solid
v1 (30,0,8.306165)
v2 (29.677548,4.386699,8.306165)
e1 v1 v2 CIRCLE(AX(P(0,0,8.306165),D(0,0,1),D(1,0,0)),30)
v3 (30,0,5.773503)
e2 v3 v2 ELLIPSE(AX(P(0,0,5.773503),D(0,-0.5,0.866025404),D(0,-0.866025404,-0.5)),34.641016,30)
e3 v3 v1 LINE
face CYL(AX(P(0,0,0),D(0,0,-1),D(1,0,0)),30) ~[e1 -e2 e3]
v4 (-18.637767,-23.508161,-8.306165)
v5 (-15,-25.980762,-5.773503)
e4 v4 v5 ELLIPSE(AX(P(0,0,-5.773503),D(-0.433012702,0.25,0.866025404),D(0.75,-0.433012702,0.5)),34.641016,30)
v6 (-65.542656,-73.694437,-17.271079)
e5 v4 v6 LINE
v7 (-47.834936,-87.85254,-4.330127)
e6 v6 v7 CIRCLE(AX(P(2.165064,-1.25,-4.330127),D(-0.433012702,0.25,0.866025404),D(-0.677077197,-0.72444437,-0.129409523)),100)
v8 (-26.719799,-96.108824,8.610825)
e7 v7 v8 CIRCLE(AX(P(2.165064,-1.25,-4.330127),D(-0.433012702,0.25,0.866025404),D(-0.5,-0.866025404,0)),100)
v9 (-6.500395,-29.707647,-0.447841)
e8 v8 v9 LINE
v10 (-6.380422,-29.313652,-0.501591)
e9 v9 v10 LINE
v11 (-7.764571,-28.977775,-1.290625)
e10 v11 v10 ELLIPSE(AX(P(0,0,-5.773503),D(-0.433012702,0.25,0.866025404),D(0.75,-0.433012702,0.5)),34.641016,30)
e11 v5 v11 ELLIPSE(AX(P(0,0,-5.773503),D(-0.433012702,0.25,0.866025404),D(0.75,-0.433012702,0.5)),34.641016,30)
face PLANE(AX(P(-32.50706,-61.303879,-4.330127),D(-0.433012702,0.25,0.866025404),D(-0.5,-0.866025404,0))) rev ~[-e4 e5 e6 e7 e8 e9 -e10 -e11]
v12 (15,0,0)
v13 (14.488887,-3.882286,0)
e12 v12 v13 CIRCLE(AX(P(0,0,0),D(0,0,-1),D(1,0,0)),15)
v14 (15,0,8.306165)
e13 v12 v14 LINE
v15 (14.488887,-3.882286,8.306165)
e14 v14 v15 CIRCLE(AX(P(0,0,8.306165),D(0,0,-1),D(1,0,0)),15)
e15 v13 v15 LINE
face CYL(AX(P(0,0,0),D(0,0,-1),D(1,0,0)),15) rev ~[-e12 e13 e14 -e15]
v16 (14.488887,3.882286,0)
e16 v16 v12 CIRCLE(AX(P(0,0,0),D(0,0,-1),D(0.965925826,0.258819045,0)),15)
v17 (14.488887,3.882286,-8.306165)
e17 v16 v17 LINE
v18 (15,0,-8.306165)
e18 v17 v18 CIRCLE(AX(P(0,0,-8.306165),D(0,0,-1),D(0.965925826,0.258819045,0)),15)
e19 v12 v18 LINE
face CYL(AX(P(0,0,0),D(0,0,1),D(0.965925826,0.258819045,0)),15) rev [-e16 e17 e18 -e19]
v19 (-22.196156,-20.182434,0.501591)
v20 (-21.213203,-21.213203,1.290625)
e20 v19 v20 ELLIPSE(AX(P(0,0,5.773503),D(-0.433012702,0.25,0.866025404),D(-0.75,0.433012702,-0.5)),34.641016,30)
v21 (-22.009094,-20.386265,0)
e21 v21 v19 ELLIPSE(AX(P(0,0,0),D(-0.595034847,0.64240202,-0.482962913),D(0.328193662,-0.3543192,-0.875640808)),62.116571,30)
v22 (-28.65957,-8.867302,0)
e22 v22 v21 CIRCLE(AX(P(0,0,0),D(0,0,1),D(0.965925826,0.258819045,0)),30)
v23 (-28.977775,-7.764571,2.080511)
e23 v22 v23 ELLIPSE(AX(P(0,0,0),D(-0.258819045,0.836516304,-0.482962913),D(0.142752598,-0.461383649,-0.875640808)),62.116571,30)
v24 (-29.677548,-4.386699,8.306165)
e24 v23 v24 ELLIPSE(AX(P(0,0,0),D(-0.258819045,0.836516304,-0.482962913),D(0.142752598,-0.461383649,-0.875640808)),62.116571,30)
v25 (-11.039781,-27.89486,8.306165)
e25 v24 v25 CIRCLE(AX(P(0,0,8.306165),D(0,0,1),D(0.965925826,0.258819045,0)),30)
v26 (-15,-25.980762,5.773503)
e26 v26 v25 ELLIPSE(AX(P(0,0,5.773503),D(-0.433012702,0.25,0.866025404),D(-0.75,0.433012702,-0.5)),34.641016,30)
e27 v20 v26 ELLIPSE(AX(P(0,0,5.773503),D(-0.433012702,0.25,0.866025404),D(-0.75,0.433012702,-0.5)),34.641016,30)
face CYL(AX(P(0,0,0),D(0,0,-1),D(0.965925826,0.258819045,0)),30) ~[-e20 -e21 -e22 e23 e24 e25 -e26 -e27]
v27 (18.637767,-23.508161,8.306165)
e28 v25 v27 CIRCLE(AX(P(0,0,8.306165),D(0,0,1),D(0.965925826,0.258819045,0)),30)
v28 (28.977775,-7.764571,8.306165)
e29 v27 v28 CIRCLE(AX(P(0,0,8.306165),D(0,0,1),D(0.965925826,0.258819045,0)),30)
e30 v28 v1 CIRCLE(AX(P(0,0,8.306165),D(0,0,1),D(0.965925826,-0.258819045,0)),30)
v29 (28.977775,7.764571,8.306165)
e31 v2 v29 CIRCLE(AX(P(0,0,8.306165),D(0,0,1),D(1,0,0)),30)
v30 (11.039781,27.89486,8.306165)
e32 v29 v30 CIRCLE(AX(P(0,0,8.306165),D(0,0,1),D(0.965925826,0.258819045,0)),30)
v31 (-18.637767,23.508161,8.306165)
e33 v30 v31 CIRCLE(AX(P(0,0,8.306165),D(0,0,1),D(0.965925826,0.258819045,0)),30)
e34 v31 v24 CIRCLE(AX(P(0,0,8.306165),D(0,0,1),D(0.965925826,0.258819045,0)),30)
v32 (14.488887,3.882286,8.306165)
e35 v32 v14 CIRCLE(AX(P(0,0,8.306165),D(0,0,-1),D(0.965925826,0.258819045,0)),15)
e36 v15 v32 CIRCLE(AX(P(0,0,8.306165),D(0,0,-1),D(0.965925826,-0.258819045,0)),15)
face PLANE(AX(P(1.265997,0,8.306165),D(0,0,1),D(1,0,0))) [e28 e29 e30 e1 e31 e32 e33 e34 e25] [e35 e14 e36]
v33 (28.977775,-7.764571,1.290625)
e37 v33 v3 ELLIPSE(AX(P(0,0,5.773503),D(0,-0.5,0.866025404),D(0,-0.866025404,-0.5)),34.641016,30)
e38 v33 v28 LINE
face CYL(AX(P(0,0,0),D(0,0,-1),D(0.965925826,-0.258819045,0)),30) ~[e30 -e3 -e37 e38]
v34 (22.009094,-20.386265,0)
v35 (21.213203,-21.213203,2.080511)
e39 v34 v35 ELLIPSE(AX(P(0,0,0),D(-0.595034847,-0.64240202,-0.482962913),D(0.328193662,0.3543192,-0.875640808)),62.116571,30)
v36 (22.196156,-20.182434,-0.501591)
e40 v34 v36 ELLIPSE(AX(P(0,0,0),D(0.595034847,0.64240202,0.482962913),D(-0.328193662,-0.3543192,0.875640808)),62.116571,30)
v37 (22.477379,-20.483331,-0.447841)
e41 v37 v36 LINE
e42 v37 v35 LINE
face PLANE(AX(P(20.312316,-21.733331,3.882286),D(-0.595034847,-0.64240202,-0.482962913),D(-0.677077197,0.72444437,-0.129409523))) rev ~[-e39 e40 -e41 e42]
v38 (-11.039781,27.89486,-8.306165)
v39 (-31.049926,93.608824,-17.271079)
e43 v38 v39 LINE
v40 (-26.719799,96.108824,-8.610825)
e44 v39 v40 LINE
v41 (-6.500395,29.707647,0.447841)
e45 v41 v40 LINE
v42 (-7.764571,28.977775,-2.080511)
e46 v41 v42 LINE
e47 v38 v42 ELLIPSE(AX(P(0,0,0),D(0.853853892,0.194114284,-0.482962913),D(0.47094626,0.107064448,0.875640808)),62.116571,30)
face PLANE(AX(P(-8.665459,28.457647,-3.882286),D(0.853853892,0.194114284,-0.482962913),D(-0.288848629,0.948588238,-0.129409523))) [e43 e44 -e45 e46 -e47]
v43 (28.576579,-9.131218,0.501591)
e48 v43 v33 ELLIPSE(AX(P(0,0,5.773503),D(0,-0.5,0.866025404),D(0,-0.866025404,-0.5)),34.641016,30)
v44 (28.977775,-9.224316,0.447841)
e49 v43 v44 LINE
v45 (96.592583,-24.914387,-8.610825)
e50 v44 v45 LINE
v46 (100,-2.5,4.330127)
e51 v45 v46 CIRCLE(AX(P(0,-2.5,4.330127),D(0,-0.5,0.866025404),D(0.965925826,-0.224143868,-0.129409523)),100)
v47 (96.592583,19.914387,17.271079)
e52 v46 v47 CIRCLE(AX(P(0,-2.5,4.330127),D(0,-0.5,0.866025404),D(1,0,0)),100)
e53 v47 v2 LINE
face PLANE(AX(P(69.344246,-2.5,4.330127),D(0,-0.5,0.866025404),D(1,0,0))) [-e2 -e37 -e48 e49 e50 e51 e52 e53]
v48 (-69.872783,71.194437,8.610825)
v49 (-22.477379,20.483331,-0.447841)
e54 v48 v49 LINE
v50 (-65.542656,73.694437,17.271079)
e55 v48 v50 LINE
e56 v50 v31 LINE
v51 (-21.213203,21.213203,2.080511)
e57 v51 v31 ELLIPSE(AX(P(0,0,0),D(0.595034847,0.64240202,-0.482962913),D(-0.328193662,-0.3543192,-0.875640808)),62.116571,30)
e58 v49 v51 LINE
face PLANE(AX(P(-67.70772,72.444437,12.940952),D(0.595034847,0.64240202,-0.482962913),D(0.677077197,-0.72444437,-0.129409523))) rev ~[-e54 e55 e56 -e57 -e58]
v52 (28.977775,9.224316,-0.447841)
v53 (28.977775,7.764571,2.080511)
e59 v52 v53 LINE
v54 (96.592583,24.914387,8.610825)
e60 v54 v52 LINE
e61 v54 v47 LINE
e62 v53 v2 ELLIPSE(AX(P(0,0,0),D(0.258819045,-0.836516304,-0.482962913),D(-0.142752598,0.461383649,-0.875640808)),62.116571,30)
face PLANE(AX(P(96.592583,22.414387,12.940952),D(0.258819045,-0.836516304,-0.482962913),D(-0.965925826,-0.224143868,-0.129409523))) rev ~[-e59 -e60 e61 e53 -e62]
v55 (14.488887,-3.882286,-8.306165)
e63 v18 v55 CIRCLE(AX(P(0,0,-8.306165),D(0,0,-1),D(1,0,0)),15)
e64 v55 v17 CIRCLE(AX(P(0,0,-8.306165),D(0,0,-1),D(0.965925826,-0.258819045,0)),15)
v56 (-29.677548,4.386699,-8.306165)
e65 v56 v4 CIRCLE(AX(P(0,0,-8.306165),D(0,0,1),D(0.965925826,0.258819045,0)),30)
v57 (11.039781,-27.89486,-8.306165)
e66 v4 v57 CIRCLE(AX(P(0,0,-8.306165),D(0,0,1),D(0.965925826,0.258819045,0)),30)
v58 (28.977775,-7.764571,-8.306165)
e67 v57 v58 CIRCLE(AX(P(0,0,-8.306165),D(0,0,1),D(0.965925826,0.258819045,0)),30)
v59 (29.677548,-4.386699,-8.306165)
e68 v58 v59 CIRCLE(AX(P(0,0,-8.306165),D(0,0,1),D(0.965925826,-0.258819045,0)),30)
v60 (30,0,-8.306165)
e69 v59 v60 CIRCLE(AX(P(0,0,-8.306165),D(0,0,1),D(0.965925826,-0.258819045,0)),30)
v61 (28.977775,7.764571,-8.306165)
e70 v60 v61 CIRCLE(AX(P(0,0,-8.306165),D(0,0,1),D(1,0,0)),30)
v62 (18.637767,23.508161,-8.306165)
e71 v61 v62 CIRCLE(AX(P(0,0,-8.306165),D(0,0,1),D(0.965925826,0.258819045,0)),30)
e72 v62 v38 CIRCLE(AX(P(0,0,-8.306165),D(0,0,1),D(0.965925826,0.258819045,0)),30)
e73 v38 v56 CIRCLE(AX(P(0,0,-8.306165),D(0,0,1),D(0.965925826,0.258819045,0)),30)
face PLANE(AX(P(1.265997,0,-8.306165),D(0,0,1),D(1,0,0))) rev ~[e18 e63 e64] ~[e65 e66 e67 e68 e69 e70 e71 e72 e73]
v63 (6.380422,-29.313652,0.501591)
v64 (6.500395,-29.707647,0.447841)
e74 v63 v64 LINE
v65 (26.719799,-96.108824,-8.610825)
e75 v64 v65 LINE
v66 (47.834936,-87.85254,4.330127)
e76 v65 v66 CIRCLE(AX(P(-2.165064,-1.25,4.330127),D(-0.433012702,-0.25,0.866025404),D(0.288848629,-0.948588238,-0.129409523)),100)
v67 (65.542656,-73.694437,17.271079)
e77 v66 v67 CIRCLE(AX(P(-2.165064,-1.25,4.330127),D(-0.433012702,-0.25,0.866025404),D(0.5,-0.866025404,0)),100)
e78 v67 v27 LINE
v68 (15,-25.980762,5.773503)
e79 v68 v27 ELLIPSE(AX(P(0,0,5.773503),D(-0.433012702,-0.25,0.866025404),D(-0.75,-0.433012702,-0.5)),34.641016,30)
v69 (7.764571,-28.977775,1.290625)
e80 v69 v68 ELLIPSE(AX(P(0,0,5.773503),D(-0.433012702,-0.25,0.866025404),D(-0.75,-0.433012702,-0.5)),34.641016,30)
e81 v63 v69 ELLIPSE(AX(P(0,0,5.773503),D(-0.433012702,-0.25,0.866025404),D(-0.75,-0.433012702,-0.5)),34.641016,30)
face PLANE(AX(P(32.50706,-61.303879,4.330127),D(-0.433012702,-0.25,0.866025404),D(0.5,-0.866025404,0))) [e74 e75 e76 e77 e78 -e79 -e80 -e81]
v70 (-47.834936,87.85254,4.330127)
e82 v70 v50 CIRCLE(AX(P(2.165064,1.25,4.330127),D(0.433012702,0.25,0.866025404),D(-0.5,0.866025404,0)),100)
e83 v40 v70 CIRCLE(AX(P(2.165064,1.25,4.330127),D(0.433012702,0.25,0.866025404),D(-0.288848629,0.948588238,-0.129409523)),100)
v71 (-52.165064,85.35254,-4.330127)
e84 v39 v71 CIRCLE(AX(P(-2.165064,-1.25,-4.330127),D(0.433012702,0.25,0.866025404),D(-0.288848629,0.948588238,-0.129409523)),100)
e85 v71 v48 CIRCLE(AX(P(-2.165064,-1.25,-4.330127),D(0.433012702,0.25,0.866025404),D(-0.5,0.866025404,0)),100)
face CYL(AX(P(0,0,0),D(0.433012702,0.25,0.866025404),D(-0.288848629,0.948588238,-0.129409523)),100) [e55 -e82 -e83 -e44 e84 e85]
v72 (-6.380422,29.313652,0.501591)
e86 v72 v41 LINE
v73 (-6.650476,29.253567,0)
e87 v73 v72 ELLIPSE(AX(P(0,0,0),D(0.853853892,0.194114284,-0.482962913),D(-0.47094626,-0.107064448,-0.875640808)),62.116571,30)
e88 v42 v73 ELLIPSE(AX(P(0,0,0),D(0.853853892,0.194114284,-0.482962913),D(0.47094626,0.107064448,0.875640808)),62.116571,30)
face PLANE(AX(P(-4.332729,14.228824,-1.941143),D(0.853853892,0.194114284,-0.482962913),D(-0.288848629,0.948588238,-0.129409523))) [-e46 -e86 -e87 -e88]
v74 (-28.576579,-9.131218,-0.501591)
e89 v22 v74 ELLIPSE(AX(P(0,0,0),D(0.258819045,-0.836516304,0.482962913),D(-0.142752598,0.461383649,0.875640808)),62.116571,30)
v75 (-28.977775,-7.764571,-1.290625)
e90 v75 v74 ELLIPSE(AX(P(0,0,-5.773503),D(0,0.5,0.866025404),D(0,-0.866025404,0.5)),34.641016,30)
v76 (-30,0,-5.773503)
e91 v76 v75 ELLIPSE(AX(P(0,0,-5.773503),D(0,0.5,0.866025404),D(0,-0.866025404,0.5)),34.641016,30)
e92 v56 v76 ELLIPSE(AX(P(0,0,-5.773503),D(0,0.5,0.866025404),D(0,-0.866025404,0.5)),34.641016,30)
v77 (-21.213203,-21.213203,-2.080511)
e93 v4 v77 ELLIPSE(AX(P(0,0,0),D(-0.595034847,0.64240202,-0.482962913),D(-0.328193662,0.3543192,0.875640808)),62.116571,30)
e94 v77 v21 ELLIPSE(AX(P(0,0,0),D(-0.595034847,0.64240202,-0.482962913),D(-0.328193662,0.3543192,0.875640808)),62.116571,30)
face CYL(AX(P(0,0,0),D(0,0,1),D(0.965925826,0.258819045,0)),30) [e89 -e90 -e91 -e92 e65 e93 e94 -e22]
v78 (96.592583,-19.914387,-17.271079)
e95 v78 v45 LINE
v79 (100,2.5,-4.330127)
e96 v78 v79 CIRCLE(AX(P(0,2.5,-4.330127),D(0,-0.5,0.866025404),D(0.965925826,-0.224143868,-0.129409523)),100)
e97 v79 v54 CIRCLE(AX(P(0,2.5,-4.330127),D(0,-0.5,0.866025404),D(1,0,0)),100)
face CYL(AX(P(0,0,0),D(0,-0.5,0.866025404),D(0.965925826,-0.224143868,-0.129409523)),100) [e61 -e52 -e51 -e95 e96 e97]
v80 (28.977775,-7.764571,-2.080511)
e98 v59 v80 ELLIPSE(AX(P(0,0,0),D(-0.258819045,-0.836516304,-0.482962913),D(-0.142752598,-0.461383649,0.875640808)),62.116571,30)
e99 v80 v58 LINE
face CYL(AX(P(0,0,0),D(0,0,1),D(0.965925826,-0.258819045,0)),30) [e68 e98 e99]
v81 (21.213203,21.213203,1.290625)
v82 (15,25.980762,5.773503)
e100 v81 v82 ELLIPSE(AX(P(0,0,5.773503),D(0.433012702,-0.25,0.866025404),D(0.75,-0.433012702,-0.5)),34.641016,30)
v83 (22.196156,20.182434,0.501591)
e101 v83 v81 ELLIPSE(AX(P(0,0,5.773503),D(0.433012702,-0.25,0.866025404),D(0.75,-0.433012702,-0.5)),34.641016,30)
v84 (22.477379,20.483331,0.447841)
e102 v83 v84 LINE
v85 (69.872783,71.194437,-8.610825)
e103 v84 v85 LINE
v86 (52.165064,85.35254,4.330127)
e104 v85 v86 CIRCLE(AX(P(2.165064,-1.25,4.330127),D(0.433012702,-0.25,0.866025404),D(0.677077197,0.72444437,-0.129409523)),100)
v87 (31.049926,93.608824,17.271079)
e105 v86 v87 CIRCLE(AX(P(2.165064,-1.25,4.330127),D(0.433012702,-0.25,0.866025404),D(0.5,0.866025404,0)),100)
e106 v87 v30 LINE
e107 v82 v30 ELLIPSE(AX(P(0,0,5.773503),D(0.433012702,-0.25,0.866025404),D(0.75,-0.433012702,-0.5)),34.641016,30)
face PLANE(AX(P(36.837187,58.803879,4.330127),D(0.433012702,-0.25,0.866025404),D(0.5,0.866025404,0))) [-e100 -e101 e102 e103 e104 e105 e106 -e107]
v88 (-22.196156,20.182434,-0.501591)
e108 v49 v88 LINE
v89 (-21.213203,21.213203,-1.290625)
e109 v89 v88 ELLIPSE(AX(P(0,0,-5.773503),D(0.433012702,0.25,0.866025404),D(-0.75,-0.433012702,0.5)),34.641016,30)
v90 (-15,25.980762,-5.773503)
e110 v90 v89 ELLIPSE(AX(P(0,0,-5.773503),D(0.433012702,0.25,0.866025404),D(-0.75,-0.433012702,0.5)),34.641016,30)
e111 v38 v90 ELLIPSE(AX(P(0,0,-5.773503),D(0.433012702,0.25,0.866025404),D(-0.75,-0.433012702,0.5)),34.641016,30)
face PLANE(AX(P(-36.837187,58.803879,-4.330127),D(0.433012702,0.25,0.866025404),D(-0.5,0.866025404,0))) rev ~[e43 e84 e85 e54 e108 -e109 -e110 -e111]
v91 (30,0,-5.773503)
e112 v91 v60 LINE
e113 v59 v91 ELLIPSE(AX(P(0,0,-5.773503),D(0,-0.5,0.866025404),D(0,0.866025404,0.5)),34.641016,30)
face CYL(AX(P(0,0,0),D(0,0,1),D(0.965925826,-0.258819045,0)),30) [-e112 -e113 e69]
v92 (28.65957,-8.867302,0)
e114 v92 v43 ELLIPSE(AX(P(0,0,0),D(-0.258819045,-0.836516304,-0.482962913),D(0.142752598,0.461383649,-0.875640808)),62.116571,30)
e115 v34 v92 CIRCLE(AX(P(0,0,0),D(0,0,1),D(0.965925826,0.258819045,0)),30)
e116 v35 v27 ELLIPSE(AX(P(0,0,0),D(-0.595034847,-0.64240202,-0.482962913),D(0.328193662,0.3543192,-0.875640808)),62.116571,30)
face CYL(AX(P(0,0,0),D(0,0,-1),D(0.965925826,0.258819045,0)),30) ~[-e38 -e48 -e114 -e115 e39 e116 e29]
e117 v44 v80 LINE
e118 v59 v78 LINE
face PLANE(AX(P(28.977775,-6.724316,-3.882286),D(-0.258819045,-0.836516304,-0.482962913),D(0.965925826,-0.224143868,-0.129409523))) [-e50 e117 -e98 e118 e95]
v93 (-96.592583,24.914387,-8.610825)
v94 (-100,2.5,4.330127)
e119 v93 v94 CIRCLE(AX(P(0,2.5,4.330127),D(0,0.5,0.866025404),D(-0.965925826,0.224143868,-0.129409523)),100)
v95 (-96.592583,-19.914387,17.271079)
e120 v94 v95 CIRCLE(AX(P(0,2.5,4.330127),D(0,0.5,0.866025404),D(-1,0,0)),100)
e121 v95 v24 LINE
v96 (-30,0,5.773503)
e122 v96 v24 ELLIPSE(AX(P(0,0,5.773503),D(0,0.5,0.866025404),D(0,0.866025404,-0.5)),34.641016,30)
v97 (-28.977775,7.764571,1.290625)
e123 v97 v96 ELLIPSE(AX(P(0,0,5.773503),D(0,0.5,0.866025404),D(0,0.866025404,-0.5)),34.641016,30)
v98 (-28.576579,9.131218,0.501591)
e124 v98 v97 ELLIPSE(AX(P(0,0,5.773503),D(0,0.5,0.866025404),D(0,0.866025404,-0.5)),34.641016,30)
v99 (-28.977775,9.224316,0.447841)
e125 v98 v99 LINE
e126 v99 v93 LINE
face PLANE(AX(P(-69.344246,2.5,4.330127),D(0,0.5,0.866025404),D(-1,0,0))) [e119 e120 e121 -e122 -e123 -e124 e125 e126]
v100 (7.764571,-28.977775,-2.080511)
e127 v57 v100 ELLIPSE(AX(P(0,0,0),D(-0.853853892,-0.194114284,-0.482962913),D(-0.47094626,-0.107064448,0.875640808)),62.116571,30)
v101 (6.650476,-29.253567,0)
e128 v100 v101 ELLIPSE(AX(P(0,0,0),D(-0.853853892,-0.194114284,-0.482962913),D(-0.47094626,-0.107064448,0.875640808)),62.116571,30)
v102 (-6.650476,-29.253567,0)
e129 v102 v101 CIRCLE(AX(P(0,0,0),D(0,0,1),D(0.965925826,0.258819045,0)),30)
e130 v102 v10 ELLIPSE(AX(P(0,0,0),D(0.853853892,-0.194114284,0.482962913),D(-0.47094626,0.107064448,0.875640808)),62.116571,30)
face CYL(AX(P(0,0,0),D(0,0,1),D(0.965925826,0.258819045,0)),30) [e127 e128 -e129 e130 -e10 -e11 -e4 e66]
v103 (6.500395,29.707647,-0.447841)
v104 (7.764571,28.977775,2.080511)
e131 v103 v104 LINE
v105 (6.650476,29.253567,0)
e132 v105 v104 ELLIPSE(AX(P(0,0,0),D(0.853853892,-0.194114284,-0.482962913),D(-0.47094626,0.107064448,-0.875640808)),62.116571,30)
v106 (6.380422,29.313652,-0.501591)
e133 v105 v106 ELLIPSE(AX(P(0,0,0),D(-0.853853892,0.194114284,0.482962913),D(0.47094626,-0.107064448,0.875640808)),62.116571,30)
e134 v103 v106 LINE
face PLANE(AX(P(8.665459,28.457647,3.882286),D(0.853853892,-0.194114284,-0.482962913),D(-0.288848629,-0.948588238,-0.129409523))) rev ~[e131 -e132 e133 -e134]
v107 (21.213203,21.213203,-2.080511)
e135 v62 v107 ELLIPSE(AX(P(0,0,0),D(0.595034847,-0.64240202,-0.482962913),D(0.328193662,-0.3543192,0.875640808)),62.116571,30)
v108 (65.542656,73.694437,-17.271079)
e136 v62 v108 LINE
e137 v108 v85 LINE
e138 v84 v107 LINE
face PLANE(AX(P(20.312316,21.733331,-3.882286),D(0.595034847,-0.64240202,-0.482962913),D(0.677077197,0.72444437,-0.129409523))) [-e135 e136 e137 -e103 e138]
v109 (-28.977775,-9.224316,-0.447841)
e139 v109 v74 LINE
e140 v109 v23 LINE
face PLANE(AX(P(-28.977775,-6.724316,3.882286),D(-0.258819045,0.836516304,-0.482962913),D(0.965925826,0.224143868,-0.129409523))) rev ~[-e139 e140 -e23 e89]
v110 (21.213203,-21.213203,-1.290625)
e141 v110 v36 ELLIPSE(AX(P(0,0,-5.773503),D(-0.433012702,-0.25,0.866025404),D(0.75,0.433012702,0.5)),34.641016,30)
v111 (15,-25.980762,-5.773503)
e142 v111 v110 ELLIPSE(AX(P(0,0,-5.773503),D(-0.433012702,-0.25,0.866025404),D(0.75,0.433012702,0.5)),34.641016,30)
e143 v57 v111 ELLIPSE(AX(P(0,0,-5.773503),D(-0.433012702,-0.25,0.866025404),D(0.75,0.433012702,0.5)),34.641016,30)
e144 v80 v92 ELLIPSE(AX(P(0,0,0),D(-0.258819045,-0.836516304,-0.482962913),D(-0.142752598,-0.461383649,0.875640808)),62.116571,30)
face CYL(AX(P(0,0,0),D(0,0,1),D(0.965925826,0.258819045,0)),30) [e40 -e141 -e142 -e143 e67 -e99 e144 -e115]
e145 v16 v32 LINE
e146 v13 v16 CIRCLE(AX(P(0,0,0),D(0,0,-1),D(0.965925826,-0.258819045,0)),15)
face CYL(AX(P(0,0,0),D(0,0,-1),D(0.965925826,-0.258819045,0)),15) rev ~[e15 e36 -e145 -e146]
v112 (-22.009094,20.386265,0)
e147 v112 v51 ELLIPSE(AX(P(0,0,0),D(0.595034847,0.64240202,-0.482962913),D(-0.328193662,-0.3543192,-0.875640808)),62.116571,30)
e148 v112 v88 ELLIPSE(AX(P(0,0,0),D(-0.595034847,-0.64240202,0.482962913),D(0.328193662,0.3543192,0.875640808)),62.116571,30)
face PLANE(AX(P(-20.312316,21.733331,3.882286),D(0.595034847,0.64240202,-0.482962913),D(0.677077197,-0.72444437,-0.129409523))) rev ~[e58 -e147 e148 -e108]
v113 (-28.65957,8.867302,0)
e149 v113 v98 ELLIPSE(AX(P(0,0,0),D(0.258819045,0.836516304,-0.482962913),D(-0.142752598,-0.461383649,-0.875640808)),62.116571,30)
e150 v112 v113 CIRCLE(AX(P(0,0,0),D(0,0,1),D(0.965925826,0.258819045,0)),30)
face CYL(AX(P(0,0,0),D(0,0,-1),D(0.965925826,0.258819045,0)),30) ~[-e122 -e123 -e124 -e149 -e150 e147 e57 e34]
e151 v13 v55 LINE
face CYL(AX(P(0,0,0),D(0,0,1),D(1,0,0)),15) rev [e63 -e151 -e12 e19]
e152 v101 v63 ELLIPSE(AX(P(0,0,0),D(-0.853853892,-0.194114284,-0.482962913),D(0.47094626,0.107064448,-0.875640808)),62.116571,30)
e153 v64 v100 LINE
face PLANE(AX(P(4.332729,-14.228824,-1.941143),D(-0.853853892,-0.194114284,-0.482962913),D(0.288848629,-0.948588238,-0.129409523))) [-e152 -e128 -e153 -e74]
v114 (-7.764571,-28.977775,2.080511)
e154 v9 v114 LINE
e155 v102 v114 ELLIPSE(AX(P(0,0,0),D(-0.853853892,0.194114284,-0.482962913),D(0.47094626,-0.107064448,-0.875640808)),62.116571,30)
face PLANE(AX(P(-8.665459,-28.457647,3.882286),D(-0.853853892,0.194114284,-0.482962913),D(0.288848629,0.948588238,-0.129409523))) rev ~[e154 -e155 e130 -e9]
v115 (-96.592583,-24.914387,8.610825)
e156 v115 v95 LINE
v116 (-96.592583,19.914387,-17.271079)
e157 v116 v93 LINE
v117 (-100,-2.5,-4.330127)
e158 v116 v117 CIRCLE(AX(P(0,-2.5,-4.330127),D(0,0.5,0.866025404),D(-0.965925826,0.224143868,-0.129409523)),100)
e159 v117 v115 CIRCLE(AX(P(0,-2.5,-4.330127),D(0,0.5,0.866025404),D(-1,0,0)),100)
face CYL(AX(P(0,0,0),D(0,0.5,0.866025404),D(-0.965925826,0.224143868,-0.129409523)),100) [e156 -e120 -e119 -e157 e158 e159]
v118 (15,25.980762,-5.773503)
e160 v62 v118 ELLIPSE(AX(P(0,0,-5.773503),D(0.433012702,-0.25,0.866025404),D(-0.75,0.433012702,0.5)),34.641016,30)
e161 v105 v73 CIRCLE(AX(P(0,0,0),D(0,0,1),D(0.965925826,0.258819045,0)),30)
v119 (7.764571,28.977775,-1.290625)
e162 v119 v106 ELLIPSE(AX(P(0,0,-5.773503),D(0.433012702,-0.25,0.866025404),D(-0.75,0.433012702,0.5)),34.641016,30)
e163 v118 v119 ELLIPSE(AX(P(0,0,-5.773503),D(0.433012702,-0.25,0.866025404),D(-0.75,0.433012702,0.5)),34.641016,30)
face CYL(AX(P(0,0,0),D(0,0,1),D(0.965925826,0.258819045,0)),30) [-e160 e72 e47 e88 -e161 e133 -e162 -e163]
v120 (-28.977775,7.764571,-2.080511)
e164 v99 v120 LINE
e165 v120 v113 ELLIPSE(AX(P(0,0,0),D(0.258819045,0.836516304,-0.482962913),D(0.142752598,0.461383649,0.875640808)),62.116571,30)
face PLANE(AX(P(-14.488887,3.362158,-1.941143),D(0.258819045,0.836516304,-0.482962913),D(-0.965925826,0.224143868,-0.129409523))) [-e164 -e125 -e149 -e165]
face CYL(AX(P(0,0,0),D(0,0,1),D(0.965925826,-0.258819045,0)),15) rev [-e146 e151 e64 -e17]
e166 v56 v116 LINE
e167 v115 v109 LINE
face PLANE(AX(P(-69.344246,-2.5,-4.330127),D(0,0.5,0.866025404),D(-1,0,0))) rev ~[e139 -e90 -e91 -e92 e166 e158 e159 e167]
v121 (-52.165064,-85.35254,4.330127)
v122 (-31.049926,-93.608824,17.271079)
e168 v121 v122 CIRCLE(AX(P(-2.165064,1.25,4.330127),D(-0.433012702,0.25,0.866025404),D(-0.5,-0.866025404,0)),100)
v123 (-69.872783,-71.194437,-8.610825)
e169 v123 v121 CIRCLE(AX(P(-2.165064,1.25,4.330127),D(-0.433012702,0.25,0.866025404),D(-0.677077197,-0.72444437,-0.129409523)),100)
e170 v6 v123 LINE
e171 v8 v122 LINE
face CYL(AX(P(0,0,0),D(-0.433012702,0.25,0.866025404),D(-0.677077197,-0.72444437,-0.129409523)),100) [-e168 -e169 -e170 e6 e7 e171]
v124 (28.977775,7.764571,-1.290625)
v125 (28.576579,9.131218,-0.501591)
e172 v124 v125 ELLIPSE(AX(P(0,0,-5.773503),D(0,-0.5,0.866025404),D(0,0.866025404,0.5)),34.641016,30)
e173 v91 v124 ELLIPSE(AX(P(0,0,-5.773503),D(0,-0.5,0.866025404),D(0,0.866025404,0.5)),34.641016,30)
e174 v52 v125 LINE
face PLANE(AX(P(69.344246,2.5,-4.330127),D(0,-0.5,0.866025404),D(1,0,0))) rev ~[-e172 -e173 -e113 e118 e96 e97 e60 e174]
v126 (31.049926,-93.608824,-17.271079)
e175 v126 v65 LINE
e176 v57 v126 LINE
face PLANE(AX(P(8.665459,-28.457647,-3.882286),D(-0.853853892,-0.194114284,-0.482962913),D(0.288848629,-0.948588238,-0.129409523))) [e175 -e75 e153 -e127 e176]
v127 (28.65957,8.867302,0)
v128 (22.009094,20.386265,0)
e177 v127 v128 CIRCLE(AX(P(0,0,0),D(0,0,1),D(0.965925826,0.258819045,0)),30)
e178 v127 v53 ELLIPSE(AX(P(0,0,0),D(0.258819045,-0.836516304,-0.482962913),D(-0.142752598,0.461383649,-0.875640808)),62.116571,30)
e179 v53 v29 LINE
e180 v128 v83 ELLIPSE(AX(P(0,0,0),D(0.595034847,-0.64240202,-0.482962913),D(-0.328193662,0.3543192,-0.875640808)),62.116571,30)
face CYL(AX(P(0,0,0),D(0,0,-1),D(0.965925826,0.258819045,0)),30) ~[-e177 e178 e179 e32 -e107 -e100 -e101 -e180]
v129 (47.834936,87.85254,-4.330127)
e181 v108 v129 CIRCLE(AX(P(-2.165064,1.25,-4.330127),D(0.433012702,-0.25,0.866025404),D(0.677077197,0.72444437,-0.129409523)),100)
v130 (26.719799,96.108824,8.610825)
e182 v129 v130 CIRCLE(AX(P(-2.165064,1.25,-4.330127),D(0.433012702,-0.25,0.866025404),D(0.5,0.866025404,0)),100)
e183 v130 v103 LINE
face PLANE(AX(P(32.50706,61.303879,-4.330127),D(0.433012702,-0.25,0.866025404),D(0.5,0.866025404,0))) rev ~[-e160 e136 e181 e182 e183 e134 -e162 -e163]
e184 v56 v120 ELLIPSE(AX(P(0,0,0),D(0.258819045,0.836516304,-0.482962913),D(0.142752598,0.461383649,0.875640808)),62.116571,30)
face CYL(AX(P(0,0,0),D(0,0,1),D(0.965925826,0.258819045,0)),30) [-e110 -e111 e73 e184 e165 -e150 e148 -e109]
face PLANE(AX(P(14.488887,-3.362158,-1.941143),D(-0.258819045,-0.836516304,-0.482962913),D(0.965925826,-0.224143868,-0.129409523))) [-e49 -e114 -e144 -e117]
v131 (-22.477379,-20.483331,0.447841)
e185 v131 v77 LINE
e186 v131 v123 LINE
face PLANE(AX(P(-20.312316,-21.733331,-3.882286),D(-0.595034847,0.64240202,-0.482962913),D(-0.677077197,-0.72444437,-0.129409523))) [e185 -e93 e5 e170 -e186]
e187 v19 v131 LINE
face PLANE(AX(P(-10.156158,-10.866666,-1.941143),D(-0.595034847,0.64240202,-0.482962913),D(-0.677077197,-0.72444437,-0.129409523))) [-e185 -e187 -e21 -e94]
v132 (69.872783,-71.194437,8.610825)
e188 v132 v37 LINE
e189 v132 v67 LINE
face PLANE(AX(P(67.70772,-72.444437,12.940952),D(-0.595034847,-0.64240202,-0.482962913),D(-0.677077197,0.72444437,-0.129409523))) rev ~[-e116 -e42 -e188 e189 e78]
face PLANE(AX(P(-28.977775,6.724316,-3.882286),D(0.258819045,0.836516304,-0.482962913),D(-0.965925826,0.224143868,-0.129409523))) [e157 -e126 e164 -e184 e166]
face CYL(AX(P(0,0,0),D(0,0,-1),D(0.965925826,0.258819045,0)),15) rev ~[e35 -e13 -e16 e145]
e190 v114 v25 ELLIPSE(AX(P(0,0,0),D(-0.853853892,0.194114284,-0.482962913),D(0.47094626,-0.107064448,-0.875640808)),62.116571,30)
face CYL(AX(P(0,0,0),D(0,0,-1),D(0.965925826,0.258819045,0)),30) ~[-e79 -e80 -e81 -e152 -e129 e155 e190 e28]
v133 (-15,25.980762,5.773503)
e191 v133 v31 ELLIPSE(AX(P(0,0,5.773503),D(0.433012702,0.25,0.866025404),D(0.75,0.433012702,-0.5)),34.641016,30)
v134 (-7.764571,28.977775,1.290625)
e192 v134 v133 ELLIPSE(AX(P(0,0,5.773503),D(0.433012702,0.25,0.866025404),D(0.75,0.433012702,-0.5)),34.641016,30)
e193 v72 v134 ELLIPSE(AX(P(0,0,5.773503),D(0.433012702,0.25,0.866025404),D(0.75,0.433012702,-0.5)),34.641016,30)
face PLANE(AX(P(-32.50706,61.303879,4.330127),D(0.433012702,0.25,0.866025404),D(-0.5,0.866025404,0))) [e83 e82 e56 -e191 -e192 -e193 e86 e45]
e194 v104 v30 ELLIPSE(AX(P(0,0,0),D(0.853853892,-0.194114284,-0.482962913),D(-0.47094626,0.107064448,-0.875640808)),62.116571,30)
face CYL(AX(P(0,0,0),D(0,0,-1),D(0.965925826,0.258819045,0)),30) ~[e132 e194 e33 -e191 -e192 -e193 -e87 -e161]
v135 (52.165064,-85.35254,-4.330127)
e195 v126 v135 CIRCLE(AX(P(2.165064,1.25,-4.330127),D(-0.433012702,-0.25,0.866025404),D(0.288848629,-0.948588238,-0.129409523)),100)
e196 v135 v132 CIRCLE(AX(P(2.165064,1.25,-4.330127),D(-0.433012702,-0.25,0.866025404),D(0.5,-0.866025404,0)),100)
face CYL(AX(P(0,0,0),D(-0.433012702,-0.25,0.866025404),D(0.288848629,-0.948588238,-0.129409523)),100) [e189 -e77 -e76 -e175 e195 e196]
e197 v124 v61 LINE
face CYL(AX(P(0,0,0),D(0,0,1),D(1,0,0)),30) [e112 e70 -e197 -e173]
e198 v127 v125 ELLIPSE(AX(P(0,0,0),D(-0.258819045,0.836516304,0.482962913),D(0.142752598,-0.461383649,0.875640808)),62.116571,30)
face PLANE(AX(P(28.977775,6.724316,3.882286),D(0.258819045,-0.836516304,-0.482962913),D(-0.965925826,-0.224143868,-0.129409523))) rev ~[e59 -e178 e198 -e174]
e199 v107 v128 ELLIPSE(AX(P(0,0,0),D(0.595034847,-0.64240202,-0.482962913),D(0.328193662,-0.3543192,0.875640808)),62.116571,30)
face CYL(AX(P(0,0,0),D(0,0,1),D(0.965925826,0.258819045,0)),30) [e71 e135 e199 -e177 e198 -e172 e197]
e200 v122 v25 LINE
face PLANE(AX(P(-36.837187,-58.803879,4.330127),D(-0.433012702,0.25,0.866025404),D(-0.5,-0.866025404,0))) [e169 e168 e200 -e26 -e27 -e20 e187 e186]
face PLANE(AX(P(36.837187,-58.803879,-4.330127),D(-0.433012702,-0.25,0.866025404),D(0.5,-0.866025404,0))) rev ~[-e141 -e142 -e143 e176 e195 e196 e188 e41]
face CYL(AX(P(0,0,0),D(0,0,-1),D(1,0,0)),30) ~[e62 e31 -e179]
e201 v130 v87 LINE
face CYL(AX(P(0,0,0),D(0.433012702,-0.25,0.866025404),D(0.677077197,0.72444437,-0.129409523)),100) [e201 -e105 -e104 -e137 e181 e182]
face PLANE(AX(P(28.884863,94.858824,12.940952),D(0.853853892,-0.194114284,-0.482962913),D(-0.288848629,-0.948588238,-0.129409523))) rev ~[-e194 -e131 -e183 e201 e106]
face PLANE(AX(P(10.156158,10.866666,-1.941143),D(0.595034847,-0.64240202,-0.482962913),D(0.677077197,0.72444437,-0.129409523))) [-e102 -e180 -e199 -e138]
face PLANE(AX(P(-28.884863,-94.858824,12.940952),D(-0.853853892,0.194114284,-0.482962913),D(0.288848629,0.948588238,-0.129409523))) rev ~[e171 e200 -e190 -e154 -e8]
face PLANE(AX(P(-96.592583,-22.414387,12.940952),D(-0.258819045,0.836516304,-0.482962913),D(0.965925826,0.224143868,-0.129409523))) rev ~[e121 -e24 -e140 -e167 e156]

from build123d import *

# Parameters (mm, degrees)
F1_DEPTH      = 5
F1_DEPTH_BACK = 5
F2_ANGLE      = 30
F3_DEPTH      = 25
F3_DEPTH_BACK = 25
F5_COUNT      = 6
F6_DEPTH      = 8.3061645655
F6_DEPTH_BACK = 8.3061645655


with BuildPart() as f1:
    # F0 (on Top) → F1 (new body, two sides)
    with BuildSketch(Plane.XY) as f1_sk:
        with BuildLine():
            ThreePointArc((28.9777747887, 7.7645713531), (29.7433458412, 3.9157857666), (30, 0))
            ThreePointArc((30, 0), (29.7433458412, -3.9157857666), (28.9777747887, -7.7645713531))
            Line((28.9777747887, -7.7645713531), (96.5925826289, -25.8819045103))
            ThreePointArc((96.5925826289, -25.8819045103), (99.1444861374, -13.052619222), (100, 0))
            ThreePointArc((100, 0), (99.1444861374, 13.052619222), (96.5925826289, 25.8819045103))
            Line((96.5925826289, 25.8819045103), (28.9777747887, 7.7645713531))
        make_face()
        with BuildLine():
            ThreePointArc((28.9777747887, -7.7645713531), (29.7433458412, -3.9157857666), (30, 0))
            ThreePointArc((30, 0), (29.7433458412, 3.9157857666), (28.9777747887, 7.7645713531))
            Line((28.9777747887, 7.7645713531), (14.4888873943, 3.8822856765))
            ThreePointArc((14.4888873943, 3.8822856765), (14.8716729206, 1.9578928833), (15, 0))
            ThreePointArc((15, 0), (14.8716729206, -1.9578928833), (14.4888873943, -3.8822856765))
            Line((14.4888873943, -3.8822856765), (28.9777747887, -7.7645713531))
        make_face()
    extrude(amount=F1_DEPTH)
    extrude(f1_sk.sketch, amount=-F1_DEPTH_BACK)


with BuildPart() as f1_1:
    # F2: moved
    add(f1.part.rotate(Axis((7.5, 0, 0), (1, 0, 0)), F2_ANGLE))

    # F0 (on Top) → F3 (cut, two sides)
    with BuildSketch(Plane.XY) as f3_sk:
        with BuildLine():
            Line((14.4888873943, 3.8822856765), (28.9777747887, 7.7645713531))
            ThreePointArc((28.9777747887, 7.7645713531), (-30, 0), (28.9777747887, -7.7645713531))
            Line((28.9777747887, -7.7645713531), (14.4888873943, -3.8822856765))
            ThreePointArc((14.4888873943, -3.8822856765), (-15, 0), (14.4888873943, 3.8822856765))
        make_face()
        with BuildLine():
            Line((0, 0), (14.4888873943, 3.8822856765))
            ThreePointArc((14.4888873943, 3.8822856765), (-15, 0), (14.4888873943, -3.8822856765))
            Line((14.4888873943, -3.8822856765), (0, 0))
        make_face()
        with BuildLine():
            Line((0, 0), (14.4888873943, -3.8822856765))
            ThreePointArc((14.4888873943, -3.8822856765), (14.8716729206, -1.9578928833), (15, 0))
            Line((15, 0), (0, 0))
        make_face()
        with BuildLine():
            ThreePointArc((15, 0), (14.8716729206, 1.9578928833), (14.4888873943, 3.8822856765))
            Line((14.4888873943, 3.8822856765), (0, 0))
            Line((0, 0), (15, 0))
        make_face()
        with BuildLine():
            ThreePointArc((28.9777747887, -7.7645713531), (29.7433458412, -3.9157857666), (30, 0))
            ThreePointArc((30, 0), (29.7433458412, 3.9157857666), (28.9777747887, 7.7645713531))
            Line((28.9777747887, 7.7645713531), (14.4888873943, 3.8822856765))
            ThreePointArc((14.4888873943, 3.8822856765), (14.8716729206, 1.9578928833), (15, 0))
            ThreePointArc((15, 0), (14.8716729206, -1.9578928833), (14.4888873943, -3.8822856765))
            Line((14.4888873943, -3.8822856765), (28.9777747887, -7.7645713531))
        make_face()
    extrude(amount=-F3_DEPTH, mode=Mode.SUBTRACT)
    extrude(f3_sk.sketch, amount=F3_DEPTH_BACK, mode=Mode.SUBTRACT)


with BuildPart() as f5_1:
    # F5: instance of F1
    add(f1_1.part.rotate(Axis((0, 0, 22.1990030259), (0, 0, 1)), 1 * 360 / F5_COUNT))


with BuildPart() as f5_2:
    # F5: instance of F1
    add(f1_1.part.rotate(Axis((0, 0, 22.1990030259), (0, 0, 1)), 2 * 360 / F5_COUNT))


with BuildPart() as f5_3:
    # F5: instance of F1
    add(f1_1.part.rotate(Axis((0, 0, 22.1990030259), (0, 0, 1)), 3 * 360 / F5_COUNT))


with BuildPart() as f5_4:
    # F5: instance of F1
    add(f1_1.part.rotate(Axis((0, 0, 22.1990030259), (0, 0, 1)), 4 * 360 / F5_COUNT))


with BuildPart() as f5_5:
    # F5: instance of F1
    add(f1_1.part.rotate(Axis((0, 0, 22.1990030259), (0, 0, 1)), 5 * 360 / F5_COUNT))


with BuildPart() as f1_2:
    add(f1_1.part)

    add(f5_1.part)  # F6 merges F5_1

    add(f5_2.part)  # F6 merges F5_2

    add(f5_3.part)  # F6 merges F5_3

    add(f5_4.part)  # F6 merges F5_4

    add(f5_5.part)  # F6 merges F5_5
    # F0 (on Top) → F6 (join, two sides)
    with BuildSketch(Plane.XY) as f6_sk:
        with BuildLine():
            Line((14.4888873943, 3.8822856765), (28.9777747887, 7.7645713531))
            ThreePointArc((28.9777747887, 7.7645713531), (-30, 0), (28.9777747887, -7.7645713531))
            Line((28.9777747887, -7.7645713531), (14.4888873943, -3.8822856765))
            ThreePointArc((14.4888873943, -3.8822856765), (-15, 0), (14.4888873943, 3.8822856765))
        make_face()
        with BuildLine():
            ThreePointArc((28.9777747887, -7.7645713531), (29.7433458412, -3.9157857666), (30, 0))
            ThreePointArc((30, 0), (29.7433458412, 3.9157857666), (28.9777747887, 7.7645713531))
            Line((28.9777747887, 7.7645713531), (14.4888873943, 3.8822856765))
            ThreePointArc((14.4888873943, 3.8822856765), (14.8716729206, 1.9578928833), (15, 0))
            ThreePointArc((15, 0), (14.8716729206, -1.9578928833), (14.4888873943, -3.8822856765))
            Line((14.4888873943, -3.8822856765), (28.9777747887, -7.7645713531))
        make_face()
    extrude(amount=F6_DEPTH)
    extrude(f6_sk.sketch, amount=-F6_DEPTH_BACK)


solid = f1_2.part
